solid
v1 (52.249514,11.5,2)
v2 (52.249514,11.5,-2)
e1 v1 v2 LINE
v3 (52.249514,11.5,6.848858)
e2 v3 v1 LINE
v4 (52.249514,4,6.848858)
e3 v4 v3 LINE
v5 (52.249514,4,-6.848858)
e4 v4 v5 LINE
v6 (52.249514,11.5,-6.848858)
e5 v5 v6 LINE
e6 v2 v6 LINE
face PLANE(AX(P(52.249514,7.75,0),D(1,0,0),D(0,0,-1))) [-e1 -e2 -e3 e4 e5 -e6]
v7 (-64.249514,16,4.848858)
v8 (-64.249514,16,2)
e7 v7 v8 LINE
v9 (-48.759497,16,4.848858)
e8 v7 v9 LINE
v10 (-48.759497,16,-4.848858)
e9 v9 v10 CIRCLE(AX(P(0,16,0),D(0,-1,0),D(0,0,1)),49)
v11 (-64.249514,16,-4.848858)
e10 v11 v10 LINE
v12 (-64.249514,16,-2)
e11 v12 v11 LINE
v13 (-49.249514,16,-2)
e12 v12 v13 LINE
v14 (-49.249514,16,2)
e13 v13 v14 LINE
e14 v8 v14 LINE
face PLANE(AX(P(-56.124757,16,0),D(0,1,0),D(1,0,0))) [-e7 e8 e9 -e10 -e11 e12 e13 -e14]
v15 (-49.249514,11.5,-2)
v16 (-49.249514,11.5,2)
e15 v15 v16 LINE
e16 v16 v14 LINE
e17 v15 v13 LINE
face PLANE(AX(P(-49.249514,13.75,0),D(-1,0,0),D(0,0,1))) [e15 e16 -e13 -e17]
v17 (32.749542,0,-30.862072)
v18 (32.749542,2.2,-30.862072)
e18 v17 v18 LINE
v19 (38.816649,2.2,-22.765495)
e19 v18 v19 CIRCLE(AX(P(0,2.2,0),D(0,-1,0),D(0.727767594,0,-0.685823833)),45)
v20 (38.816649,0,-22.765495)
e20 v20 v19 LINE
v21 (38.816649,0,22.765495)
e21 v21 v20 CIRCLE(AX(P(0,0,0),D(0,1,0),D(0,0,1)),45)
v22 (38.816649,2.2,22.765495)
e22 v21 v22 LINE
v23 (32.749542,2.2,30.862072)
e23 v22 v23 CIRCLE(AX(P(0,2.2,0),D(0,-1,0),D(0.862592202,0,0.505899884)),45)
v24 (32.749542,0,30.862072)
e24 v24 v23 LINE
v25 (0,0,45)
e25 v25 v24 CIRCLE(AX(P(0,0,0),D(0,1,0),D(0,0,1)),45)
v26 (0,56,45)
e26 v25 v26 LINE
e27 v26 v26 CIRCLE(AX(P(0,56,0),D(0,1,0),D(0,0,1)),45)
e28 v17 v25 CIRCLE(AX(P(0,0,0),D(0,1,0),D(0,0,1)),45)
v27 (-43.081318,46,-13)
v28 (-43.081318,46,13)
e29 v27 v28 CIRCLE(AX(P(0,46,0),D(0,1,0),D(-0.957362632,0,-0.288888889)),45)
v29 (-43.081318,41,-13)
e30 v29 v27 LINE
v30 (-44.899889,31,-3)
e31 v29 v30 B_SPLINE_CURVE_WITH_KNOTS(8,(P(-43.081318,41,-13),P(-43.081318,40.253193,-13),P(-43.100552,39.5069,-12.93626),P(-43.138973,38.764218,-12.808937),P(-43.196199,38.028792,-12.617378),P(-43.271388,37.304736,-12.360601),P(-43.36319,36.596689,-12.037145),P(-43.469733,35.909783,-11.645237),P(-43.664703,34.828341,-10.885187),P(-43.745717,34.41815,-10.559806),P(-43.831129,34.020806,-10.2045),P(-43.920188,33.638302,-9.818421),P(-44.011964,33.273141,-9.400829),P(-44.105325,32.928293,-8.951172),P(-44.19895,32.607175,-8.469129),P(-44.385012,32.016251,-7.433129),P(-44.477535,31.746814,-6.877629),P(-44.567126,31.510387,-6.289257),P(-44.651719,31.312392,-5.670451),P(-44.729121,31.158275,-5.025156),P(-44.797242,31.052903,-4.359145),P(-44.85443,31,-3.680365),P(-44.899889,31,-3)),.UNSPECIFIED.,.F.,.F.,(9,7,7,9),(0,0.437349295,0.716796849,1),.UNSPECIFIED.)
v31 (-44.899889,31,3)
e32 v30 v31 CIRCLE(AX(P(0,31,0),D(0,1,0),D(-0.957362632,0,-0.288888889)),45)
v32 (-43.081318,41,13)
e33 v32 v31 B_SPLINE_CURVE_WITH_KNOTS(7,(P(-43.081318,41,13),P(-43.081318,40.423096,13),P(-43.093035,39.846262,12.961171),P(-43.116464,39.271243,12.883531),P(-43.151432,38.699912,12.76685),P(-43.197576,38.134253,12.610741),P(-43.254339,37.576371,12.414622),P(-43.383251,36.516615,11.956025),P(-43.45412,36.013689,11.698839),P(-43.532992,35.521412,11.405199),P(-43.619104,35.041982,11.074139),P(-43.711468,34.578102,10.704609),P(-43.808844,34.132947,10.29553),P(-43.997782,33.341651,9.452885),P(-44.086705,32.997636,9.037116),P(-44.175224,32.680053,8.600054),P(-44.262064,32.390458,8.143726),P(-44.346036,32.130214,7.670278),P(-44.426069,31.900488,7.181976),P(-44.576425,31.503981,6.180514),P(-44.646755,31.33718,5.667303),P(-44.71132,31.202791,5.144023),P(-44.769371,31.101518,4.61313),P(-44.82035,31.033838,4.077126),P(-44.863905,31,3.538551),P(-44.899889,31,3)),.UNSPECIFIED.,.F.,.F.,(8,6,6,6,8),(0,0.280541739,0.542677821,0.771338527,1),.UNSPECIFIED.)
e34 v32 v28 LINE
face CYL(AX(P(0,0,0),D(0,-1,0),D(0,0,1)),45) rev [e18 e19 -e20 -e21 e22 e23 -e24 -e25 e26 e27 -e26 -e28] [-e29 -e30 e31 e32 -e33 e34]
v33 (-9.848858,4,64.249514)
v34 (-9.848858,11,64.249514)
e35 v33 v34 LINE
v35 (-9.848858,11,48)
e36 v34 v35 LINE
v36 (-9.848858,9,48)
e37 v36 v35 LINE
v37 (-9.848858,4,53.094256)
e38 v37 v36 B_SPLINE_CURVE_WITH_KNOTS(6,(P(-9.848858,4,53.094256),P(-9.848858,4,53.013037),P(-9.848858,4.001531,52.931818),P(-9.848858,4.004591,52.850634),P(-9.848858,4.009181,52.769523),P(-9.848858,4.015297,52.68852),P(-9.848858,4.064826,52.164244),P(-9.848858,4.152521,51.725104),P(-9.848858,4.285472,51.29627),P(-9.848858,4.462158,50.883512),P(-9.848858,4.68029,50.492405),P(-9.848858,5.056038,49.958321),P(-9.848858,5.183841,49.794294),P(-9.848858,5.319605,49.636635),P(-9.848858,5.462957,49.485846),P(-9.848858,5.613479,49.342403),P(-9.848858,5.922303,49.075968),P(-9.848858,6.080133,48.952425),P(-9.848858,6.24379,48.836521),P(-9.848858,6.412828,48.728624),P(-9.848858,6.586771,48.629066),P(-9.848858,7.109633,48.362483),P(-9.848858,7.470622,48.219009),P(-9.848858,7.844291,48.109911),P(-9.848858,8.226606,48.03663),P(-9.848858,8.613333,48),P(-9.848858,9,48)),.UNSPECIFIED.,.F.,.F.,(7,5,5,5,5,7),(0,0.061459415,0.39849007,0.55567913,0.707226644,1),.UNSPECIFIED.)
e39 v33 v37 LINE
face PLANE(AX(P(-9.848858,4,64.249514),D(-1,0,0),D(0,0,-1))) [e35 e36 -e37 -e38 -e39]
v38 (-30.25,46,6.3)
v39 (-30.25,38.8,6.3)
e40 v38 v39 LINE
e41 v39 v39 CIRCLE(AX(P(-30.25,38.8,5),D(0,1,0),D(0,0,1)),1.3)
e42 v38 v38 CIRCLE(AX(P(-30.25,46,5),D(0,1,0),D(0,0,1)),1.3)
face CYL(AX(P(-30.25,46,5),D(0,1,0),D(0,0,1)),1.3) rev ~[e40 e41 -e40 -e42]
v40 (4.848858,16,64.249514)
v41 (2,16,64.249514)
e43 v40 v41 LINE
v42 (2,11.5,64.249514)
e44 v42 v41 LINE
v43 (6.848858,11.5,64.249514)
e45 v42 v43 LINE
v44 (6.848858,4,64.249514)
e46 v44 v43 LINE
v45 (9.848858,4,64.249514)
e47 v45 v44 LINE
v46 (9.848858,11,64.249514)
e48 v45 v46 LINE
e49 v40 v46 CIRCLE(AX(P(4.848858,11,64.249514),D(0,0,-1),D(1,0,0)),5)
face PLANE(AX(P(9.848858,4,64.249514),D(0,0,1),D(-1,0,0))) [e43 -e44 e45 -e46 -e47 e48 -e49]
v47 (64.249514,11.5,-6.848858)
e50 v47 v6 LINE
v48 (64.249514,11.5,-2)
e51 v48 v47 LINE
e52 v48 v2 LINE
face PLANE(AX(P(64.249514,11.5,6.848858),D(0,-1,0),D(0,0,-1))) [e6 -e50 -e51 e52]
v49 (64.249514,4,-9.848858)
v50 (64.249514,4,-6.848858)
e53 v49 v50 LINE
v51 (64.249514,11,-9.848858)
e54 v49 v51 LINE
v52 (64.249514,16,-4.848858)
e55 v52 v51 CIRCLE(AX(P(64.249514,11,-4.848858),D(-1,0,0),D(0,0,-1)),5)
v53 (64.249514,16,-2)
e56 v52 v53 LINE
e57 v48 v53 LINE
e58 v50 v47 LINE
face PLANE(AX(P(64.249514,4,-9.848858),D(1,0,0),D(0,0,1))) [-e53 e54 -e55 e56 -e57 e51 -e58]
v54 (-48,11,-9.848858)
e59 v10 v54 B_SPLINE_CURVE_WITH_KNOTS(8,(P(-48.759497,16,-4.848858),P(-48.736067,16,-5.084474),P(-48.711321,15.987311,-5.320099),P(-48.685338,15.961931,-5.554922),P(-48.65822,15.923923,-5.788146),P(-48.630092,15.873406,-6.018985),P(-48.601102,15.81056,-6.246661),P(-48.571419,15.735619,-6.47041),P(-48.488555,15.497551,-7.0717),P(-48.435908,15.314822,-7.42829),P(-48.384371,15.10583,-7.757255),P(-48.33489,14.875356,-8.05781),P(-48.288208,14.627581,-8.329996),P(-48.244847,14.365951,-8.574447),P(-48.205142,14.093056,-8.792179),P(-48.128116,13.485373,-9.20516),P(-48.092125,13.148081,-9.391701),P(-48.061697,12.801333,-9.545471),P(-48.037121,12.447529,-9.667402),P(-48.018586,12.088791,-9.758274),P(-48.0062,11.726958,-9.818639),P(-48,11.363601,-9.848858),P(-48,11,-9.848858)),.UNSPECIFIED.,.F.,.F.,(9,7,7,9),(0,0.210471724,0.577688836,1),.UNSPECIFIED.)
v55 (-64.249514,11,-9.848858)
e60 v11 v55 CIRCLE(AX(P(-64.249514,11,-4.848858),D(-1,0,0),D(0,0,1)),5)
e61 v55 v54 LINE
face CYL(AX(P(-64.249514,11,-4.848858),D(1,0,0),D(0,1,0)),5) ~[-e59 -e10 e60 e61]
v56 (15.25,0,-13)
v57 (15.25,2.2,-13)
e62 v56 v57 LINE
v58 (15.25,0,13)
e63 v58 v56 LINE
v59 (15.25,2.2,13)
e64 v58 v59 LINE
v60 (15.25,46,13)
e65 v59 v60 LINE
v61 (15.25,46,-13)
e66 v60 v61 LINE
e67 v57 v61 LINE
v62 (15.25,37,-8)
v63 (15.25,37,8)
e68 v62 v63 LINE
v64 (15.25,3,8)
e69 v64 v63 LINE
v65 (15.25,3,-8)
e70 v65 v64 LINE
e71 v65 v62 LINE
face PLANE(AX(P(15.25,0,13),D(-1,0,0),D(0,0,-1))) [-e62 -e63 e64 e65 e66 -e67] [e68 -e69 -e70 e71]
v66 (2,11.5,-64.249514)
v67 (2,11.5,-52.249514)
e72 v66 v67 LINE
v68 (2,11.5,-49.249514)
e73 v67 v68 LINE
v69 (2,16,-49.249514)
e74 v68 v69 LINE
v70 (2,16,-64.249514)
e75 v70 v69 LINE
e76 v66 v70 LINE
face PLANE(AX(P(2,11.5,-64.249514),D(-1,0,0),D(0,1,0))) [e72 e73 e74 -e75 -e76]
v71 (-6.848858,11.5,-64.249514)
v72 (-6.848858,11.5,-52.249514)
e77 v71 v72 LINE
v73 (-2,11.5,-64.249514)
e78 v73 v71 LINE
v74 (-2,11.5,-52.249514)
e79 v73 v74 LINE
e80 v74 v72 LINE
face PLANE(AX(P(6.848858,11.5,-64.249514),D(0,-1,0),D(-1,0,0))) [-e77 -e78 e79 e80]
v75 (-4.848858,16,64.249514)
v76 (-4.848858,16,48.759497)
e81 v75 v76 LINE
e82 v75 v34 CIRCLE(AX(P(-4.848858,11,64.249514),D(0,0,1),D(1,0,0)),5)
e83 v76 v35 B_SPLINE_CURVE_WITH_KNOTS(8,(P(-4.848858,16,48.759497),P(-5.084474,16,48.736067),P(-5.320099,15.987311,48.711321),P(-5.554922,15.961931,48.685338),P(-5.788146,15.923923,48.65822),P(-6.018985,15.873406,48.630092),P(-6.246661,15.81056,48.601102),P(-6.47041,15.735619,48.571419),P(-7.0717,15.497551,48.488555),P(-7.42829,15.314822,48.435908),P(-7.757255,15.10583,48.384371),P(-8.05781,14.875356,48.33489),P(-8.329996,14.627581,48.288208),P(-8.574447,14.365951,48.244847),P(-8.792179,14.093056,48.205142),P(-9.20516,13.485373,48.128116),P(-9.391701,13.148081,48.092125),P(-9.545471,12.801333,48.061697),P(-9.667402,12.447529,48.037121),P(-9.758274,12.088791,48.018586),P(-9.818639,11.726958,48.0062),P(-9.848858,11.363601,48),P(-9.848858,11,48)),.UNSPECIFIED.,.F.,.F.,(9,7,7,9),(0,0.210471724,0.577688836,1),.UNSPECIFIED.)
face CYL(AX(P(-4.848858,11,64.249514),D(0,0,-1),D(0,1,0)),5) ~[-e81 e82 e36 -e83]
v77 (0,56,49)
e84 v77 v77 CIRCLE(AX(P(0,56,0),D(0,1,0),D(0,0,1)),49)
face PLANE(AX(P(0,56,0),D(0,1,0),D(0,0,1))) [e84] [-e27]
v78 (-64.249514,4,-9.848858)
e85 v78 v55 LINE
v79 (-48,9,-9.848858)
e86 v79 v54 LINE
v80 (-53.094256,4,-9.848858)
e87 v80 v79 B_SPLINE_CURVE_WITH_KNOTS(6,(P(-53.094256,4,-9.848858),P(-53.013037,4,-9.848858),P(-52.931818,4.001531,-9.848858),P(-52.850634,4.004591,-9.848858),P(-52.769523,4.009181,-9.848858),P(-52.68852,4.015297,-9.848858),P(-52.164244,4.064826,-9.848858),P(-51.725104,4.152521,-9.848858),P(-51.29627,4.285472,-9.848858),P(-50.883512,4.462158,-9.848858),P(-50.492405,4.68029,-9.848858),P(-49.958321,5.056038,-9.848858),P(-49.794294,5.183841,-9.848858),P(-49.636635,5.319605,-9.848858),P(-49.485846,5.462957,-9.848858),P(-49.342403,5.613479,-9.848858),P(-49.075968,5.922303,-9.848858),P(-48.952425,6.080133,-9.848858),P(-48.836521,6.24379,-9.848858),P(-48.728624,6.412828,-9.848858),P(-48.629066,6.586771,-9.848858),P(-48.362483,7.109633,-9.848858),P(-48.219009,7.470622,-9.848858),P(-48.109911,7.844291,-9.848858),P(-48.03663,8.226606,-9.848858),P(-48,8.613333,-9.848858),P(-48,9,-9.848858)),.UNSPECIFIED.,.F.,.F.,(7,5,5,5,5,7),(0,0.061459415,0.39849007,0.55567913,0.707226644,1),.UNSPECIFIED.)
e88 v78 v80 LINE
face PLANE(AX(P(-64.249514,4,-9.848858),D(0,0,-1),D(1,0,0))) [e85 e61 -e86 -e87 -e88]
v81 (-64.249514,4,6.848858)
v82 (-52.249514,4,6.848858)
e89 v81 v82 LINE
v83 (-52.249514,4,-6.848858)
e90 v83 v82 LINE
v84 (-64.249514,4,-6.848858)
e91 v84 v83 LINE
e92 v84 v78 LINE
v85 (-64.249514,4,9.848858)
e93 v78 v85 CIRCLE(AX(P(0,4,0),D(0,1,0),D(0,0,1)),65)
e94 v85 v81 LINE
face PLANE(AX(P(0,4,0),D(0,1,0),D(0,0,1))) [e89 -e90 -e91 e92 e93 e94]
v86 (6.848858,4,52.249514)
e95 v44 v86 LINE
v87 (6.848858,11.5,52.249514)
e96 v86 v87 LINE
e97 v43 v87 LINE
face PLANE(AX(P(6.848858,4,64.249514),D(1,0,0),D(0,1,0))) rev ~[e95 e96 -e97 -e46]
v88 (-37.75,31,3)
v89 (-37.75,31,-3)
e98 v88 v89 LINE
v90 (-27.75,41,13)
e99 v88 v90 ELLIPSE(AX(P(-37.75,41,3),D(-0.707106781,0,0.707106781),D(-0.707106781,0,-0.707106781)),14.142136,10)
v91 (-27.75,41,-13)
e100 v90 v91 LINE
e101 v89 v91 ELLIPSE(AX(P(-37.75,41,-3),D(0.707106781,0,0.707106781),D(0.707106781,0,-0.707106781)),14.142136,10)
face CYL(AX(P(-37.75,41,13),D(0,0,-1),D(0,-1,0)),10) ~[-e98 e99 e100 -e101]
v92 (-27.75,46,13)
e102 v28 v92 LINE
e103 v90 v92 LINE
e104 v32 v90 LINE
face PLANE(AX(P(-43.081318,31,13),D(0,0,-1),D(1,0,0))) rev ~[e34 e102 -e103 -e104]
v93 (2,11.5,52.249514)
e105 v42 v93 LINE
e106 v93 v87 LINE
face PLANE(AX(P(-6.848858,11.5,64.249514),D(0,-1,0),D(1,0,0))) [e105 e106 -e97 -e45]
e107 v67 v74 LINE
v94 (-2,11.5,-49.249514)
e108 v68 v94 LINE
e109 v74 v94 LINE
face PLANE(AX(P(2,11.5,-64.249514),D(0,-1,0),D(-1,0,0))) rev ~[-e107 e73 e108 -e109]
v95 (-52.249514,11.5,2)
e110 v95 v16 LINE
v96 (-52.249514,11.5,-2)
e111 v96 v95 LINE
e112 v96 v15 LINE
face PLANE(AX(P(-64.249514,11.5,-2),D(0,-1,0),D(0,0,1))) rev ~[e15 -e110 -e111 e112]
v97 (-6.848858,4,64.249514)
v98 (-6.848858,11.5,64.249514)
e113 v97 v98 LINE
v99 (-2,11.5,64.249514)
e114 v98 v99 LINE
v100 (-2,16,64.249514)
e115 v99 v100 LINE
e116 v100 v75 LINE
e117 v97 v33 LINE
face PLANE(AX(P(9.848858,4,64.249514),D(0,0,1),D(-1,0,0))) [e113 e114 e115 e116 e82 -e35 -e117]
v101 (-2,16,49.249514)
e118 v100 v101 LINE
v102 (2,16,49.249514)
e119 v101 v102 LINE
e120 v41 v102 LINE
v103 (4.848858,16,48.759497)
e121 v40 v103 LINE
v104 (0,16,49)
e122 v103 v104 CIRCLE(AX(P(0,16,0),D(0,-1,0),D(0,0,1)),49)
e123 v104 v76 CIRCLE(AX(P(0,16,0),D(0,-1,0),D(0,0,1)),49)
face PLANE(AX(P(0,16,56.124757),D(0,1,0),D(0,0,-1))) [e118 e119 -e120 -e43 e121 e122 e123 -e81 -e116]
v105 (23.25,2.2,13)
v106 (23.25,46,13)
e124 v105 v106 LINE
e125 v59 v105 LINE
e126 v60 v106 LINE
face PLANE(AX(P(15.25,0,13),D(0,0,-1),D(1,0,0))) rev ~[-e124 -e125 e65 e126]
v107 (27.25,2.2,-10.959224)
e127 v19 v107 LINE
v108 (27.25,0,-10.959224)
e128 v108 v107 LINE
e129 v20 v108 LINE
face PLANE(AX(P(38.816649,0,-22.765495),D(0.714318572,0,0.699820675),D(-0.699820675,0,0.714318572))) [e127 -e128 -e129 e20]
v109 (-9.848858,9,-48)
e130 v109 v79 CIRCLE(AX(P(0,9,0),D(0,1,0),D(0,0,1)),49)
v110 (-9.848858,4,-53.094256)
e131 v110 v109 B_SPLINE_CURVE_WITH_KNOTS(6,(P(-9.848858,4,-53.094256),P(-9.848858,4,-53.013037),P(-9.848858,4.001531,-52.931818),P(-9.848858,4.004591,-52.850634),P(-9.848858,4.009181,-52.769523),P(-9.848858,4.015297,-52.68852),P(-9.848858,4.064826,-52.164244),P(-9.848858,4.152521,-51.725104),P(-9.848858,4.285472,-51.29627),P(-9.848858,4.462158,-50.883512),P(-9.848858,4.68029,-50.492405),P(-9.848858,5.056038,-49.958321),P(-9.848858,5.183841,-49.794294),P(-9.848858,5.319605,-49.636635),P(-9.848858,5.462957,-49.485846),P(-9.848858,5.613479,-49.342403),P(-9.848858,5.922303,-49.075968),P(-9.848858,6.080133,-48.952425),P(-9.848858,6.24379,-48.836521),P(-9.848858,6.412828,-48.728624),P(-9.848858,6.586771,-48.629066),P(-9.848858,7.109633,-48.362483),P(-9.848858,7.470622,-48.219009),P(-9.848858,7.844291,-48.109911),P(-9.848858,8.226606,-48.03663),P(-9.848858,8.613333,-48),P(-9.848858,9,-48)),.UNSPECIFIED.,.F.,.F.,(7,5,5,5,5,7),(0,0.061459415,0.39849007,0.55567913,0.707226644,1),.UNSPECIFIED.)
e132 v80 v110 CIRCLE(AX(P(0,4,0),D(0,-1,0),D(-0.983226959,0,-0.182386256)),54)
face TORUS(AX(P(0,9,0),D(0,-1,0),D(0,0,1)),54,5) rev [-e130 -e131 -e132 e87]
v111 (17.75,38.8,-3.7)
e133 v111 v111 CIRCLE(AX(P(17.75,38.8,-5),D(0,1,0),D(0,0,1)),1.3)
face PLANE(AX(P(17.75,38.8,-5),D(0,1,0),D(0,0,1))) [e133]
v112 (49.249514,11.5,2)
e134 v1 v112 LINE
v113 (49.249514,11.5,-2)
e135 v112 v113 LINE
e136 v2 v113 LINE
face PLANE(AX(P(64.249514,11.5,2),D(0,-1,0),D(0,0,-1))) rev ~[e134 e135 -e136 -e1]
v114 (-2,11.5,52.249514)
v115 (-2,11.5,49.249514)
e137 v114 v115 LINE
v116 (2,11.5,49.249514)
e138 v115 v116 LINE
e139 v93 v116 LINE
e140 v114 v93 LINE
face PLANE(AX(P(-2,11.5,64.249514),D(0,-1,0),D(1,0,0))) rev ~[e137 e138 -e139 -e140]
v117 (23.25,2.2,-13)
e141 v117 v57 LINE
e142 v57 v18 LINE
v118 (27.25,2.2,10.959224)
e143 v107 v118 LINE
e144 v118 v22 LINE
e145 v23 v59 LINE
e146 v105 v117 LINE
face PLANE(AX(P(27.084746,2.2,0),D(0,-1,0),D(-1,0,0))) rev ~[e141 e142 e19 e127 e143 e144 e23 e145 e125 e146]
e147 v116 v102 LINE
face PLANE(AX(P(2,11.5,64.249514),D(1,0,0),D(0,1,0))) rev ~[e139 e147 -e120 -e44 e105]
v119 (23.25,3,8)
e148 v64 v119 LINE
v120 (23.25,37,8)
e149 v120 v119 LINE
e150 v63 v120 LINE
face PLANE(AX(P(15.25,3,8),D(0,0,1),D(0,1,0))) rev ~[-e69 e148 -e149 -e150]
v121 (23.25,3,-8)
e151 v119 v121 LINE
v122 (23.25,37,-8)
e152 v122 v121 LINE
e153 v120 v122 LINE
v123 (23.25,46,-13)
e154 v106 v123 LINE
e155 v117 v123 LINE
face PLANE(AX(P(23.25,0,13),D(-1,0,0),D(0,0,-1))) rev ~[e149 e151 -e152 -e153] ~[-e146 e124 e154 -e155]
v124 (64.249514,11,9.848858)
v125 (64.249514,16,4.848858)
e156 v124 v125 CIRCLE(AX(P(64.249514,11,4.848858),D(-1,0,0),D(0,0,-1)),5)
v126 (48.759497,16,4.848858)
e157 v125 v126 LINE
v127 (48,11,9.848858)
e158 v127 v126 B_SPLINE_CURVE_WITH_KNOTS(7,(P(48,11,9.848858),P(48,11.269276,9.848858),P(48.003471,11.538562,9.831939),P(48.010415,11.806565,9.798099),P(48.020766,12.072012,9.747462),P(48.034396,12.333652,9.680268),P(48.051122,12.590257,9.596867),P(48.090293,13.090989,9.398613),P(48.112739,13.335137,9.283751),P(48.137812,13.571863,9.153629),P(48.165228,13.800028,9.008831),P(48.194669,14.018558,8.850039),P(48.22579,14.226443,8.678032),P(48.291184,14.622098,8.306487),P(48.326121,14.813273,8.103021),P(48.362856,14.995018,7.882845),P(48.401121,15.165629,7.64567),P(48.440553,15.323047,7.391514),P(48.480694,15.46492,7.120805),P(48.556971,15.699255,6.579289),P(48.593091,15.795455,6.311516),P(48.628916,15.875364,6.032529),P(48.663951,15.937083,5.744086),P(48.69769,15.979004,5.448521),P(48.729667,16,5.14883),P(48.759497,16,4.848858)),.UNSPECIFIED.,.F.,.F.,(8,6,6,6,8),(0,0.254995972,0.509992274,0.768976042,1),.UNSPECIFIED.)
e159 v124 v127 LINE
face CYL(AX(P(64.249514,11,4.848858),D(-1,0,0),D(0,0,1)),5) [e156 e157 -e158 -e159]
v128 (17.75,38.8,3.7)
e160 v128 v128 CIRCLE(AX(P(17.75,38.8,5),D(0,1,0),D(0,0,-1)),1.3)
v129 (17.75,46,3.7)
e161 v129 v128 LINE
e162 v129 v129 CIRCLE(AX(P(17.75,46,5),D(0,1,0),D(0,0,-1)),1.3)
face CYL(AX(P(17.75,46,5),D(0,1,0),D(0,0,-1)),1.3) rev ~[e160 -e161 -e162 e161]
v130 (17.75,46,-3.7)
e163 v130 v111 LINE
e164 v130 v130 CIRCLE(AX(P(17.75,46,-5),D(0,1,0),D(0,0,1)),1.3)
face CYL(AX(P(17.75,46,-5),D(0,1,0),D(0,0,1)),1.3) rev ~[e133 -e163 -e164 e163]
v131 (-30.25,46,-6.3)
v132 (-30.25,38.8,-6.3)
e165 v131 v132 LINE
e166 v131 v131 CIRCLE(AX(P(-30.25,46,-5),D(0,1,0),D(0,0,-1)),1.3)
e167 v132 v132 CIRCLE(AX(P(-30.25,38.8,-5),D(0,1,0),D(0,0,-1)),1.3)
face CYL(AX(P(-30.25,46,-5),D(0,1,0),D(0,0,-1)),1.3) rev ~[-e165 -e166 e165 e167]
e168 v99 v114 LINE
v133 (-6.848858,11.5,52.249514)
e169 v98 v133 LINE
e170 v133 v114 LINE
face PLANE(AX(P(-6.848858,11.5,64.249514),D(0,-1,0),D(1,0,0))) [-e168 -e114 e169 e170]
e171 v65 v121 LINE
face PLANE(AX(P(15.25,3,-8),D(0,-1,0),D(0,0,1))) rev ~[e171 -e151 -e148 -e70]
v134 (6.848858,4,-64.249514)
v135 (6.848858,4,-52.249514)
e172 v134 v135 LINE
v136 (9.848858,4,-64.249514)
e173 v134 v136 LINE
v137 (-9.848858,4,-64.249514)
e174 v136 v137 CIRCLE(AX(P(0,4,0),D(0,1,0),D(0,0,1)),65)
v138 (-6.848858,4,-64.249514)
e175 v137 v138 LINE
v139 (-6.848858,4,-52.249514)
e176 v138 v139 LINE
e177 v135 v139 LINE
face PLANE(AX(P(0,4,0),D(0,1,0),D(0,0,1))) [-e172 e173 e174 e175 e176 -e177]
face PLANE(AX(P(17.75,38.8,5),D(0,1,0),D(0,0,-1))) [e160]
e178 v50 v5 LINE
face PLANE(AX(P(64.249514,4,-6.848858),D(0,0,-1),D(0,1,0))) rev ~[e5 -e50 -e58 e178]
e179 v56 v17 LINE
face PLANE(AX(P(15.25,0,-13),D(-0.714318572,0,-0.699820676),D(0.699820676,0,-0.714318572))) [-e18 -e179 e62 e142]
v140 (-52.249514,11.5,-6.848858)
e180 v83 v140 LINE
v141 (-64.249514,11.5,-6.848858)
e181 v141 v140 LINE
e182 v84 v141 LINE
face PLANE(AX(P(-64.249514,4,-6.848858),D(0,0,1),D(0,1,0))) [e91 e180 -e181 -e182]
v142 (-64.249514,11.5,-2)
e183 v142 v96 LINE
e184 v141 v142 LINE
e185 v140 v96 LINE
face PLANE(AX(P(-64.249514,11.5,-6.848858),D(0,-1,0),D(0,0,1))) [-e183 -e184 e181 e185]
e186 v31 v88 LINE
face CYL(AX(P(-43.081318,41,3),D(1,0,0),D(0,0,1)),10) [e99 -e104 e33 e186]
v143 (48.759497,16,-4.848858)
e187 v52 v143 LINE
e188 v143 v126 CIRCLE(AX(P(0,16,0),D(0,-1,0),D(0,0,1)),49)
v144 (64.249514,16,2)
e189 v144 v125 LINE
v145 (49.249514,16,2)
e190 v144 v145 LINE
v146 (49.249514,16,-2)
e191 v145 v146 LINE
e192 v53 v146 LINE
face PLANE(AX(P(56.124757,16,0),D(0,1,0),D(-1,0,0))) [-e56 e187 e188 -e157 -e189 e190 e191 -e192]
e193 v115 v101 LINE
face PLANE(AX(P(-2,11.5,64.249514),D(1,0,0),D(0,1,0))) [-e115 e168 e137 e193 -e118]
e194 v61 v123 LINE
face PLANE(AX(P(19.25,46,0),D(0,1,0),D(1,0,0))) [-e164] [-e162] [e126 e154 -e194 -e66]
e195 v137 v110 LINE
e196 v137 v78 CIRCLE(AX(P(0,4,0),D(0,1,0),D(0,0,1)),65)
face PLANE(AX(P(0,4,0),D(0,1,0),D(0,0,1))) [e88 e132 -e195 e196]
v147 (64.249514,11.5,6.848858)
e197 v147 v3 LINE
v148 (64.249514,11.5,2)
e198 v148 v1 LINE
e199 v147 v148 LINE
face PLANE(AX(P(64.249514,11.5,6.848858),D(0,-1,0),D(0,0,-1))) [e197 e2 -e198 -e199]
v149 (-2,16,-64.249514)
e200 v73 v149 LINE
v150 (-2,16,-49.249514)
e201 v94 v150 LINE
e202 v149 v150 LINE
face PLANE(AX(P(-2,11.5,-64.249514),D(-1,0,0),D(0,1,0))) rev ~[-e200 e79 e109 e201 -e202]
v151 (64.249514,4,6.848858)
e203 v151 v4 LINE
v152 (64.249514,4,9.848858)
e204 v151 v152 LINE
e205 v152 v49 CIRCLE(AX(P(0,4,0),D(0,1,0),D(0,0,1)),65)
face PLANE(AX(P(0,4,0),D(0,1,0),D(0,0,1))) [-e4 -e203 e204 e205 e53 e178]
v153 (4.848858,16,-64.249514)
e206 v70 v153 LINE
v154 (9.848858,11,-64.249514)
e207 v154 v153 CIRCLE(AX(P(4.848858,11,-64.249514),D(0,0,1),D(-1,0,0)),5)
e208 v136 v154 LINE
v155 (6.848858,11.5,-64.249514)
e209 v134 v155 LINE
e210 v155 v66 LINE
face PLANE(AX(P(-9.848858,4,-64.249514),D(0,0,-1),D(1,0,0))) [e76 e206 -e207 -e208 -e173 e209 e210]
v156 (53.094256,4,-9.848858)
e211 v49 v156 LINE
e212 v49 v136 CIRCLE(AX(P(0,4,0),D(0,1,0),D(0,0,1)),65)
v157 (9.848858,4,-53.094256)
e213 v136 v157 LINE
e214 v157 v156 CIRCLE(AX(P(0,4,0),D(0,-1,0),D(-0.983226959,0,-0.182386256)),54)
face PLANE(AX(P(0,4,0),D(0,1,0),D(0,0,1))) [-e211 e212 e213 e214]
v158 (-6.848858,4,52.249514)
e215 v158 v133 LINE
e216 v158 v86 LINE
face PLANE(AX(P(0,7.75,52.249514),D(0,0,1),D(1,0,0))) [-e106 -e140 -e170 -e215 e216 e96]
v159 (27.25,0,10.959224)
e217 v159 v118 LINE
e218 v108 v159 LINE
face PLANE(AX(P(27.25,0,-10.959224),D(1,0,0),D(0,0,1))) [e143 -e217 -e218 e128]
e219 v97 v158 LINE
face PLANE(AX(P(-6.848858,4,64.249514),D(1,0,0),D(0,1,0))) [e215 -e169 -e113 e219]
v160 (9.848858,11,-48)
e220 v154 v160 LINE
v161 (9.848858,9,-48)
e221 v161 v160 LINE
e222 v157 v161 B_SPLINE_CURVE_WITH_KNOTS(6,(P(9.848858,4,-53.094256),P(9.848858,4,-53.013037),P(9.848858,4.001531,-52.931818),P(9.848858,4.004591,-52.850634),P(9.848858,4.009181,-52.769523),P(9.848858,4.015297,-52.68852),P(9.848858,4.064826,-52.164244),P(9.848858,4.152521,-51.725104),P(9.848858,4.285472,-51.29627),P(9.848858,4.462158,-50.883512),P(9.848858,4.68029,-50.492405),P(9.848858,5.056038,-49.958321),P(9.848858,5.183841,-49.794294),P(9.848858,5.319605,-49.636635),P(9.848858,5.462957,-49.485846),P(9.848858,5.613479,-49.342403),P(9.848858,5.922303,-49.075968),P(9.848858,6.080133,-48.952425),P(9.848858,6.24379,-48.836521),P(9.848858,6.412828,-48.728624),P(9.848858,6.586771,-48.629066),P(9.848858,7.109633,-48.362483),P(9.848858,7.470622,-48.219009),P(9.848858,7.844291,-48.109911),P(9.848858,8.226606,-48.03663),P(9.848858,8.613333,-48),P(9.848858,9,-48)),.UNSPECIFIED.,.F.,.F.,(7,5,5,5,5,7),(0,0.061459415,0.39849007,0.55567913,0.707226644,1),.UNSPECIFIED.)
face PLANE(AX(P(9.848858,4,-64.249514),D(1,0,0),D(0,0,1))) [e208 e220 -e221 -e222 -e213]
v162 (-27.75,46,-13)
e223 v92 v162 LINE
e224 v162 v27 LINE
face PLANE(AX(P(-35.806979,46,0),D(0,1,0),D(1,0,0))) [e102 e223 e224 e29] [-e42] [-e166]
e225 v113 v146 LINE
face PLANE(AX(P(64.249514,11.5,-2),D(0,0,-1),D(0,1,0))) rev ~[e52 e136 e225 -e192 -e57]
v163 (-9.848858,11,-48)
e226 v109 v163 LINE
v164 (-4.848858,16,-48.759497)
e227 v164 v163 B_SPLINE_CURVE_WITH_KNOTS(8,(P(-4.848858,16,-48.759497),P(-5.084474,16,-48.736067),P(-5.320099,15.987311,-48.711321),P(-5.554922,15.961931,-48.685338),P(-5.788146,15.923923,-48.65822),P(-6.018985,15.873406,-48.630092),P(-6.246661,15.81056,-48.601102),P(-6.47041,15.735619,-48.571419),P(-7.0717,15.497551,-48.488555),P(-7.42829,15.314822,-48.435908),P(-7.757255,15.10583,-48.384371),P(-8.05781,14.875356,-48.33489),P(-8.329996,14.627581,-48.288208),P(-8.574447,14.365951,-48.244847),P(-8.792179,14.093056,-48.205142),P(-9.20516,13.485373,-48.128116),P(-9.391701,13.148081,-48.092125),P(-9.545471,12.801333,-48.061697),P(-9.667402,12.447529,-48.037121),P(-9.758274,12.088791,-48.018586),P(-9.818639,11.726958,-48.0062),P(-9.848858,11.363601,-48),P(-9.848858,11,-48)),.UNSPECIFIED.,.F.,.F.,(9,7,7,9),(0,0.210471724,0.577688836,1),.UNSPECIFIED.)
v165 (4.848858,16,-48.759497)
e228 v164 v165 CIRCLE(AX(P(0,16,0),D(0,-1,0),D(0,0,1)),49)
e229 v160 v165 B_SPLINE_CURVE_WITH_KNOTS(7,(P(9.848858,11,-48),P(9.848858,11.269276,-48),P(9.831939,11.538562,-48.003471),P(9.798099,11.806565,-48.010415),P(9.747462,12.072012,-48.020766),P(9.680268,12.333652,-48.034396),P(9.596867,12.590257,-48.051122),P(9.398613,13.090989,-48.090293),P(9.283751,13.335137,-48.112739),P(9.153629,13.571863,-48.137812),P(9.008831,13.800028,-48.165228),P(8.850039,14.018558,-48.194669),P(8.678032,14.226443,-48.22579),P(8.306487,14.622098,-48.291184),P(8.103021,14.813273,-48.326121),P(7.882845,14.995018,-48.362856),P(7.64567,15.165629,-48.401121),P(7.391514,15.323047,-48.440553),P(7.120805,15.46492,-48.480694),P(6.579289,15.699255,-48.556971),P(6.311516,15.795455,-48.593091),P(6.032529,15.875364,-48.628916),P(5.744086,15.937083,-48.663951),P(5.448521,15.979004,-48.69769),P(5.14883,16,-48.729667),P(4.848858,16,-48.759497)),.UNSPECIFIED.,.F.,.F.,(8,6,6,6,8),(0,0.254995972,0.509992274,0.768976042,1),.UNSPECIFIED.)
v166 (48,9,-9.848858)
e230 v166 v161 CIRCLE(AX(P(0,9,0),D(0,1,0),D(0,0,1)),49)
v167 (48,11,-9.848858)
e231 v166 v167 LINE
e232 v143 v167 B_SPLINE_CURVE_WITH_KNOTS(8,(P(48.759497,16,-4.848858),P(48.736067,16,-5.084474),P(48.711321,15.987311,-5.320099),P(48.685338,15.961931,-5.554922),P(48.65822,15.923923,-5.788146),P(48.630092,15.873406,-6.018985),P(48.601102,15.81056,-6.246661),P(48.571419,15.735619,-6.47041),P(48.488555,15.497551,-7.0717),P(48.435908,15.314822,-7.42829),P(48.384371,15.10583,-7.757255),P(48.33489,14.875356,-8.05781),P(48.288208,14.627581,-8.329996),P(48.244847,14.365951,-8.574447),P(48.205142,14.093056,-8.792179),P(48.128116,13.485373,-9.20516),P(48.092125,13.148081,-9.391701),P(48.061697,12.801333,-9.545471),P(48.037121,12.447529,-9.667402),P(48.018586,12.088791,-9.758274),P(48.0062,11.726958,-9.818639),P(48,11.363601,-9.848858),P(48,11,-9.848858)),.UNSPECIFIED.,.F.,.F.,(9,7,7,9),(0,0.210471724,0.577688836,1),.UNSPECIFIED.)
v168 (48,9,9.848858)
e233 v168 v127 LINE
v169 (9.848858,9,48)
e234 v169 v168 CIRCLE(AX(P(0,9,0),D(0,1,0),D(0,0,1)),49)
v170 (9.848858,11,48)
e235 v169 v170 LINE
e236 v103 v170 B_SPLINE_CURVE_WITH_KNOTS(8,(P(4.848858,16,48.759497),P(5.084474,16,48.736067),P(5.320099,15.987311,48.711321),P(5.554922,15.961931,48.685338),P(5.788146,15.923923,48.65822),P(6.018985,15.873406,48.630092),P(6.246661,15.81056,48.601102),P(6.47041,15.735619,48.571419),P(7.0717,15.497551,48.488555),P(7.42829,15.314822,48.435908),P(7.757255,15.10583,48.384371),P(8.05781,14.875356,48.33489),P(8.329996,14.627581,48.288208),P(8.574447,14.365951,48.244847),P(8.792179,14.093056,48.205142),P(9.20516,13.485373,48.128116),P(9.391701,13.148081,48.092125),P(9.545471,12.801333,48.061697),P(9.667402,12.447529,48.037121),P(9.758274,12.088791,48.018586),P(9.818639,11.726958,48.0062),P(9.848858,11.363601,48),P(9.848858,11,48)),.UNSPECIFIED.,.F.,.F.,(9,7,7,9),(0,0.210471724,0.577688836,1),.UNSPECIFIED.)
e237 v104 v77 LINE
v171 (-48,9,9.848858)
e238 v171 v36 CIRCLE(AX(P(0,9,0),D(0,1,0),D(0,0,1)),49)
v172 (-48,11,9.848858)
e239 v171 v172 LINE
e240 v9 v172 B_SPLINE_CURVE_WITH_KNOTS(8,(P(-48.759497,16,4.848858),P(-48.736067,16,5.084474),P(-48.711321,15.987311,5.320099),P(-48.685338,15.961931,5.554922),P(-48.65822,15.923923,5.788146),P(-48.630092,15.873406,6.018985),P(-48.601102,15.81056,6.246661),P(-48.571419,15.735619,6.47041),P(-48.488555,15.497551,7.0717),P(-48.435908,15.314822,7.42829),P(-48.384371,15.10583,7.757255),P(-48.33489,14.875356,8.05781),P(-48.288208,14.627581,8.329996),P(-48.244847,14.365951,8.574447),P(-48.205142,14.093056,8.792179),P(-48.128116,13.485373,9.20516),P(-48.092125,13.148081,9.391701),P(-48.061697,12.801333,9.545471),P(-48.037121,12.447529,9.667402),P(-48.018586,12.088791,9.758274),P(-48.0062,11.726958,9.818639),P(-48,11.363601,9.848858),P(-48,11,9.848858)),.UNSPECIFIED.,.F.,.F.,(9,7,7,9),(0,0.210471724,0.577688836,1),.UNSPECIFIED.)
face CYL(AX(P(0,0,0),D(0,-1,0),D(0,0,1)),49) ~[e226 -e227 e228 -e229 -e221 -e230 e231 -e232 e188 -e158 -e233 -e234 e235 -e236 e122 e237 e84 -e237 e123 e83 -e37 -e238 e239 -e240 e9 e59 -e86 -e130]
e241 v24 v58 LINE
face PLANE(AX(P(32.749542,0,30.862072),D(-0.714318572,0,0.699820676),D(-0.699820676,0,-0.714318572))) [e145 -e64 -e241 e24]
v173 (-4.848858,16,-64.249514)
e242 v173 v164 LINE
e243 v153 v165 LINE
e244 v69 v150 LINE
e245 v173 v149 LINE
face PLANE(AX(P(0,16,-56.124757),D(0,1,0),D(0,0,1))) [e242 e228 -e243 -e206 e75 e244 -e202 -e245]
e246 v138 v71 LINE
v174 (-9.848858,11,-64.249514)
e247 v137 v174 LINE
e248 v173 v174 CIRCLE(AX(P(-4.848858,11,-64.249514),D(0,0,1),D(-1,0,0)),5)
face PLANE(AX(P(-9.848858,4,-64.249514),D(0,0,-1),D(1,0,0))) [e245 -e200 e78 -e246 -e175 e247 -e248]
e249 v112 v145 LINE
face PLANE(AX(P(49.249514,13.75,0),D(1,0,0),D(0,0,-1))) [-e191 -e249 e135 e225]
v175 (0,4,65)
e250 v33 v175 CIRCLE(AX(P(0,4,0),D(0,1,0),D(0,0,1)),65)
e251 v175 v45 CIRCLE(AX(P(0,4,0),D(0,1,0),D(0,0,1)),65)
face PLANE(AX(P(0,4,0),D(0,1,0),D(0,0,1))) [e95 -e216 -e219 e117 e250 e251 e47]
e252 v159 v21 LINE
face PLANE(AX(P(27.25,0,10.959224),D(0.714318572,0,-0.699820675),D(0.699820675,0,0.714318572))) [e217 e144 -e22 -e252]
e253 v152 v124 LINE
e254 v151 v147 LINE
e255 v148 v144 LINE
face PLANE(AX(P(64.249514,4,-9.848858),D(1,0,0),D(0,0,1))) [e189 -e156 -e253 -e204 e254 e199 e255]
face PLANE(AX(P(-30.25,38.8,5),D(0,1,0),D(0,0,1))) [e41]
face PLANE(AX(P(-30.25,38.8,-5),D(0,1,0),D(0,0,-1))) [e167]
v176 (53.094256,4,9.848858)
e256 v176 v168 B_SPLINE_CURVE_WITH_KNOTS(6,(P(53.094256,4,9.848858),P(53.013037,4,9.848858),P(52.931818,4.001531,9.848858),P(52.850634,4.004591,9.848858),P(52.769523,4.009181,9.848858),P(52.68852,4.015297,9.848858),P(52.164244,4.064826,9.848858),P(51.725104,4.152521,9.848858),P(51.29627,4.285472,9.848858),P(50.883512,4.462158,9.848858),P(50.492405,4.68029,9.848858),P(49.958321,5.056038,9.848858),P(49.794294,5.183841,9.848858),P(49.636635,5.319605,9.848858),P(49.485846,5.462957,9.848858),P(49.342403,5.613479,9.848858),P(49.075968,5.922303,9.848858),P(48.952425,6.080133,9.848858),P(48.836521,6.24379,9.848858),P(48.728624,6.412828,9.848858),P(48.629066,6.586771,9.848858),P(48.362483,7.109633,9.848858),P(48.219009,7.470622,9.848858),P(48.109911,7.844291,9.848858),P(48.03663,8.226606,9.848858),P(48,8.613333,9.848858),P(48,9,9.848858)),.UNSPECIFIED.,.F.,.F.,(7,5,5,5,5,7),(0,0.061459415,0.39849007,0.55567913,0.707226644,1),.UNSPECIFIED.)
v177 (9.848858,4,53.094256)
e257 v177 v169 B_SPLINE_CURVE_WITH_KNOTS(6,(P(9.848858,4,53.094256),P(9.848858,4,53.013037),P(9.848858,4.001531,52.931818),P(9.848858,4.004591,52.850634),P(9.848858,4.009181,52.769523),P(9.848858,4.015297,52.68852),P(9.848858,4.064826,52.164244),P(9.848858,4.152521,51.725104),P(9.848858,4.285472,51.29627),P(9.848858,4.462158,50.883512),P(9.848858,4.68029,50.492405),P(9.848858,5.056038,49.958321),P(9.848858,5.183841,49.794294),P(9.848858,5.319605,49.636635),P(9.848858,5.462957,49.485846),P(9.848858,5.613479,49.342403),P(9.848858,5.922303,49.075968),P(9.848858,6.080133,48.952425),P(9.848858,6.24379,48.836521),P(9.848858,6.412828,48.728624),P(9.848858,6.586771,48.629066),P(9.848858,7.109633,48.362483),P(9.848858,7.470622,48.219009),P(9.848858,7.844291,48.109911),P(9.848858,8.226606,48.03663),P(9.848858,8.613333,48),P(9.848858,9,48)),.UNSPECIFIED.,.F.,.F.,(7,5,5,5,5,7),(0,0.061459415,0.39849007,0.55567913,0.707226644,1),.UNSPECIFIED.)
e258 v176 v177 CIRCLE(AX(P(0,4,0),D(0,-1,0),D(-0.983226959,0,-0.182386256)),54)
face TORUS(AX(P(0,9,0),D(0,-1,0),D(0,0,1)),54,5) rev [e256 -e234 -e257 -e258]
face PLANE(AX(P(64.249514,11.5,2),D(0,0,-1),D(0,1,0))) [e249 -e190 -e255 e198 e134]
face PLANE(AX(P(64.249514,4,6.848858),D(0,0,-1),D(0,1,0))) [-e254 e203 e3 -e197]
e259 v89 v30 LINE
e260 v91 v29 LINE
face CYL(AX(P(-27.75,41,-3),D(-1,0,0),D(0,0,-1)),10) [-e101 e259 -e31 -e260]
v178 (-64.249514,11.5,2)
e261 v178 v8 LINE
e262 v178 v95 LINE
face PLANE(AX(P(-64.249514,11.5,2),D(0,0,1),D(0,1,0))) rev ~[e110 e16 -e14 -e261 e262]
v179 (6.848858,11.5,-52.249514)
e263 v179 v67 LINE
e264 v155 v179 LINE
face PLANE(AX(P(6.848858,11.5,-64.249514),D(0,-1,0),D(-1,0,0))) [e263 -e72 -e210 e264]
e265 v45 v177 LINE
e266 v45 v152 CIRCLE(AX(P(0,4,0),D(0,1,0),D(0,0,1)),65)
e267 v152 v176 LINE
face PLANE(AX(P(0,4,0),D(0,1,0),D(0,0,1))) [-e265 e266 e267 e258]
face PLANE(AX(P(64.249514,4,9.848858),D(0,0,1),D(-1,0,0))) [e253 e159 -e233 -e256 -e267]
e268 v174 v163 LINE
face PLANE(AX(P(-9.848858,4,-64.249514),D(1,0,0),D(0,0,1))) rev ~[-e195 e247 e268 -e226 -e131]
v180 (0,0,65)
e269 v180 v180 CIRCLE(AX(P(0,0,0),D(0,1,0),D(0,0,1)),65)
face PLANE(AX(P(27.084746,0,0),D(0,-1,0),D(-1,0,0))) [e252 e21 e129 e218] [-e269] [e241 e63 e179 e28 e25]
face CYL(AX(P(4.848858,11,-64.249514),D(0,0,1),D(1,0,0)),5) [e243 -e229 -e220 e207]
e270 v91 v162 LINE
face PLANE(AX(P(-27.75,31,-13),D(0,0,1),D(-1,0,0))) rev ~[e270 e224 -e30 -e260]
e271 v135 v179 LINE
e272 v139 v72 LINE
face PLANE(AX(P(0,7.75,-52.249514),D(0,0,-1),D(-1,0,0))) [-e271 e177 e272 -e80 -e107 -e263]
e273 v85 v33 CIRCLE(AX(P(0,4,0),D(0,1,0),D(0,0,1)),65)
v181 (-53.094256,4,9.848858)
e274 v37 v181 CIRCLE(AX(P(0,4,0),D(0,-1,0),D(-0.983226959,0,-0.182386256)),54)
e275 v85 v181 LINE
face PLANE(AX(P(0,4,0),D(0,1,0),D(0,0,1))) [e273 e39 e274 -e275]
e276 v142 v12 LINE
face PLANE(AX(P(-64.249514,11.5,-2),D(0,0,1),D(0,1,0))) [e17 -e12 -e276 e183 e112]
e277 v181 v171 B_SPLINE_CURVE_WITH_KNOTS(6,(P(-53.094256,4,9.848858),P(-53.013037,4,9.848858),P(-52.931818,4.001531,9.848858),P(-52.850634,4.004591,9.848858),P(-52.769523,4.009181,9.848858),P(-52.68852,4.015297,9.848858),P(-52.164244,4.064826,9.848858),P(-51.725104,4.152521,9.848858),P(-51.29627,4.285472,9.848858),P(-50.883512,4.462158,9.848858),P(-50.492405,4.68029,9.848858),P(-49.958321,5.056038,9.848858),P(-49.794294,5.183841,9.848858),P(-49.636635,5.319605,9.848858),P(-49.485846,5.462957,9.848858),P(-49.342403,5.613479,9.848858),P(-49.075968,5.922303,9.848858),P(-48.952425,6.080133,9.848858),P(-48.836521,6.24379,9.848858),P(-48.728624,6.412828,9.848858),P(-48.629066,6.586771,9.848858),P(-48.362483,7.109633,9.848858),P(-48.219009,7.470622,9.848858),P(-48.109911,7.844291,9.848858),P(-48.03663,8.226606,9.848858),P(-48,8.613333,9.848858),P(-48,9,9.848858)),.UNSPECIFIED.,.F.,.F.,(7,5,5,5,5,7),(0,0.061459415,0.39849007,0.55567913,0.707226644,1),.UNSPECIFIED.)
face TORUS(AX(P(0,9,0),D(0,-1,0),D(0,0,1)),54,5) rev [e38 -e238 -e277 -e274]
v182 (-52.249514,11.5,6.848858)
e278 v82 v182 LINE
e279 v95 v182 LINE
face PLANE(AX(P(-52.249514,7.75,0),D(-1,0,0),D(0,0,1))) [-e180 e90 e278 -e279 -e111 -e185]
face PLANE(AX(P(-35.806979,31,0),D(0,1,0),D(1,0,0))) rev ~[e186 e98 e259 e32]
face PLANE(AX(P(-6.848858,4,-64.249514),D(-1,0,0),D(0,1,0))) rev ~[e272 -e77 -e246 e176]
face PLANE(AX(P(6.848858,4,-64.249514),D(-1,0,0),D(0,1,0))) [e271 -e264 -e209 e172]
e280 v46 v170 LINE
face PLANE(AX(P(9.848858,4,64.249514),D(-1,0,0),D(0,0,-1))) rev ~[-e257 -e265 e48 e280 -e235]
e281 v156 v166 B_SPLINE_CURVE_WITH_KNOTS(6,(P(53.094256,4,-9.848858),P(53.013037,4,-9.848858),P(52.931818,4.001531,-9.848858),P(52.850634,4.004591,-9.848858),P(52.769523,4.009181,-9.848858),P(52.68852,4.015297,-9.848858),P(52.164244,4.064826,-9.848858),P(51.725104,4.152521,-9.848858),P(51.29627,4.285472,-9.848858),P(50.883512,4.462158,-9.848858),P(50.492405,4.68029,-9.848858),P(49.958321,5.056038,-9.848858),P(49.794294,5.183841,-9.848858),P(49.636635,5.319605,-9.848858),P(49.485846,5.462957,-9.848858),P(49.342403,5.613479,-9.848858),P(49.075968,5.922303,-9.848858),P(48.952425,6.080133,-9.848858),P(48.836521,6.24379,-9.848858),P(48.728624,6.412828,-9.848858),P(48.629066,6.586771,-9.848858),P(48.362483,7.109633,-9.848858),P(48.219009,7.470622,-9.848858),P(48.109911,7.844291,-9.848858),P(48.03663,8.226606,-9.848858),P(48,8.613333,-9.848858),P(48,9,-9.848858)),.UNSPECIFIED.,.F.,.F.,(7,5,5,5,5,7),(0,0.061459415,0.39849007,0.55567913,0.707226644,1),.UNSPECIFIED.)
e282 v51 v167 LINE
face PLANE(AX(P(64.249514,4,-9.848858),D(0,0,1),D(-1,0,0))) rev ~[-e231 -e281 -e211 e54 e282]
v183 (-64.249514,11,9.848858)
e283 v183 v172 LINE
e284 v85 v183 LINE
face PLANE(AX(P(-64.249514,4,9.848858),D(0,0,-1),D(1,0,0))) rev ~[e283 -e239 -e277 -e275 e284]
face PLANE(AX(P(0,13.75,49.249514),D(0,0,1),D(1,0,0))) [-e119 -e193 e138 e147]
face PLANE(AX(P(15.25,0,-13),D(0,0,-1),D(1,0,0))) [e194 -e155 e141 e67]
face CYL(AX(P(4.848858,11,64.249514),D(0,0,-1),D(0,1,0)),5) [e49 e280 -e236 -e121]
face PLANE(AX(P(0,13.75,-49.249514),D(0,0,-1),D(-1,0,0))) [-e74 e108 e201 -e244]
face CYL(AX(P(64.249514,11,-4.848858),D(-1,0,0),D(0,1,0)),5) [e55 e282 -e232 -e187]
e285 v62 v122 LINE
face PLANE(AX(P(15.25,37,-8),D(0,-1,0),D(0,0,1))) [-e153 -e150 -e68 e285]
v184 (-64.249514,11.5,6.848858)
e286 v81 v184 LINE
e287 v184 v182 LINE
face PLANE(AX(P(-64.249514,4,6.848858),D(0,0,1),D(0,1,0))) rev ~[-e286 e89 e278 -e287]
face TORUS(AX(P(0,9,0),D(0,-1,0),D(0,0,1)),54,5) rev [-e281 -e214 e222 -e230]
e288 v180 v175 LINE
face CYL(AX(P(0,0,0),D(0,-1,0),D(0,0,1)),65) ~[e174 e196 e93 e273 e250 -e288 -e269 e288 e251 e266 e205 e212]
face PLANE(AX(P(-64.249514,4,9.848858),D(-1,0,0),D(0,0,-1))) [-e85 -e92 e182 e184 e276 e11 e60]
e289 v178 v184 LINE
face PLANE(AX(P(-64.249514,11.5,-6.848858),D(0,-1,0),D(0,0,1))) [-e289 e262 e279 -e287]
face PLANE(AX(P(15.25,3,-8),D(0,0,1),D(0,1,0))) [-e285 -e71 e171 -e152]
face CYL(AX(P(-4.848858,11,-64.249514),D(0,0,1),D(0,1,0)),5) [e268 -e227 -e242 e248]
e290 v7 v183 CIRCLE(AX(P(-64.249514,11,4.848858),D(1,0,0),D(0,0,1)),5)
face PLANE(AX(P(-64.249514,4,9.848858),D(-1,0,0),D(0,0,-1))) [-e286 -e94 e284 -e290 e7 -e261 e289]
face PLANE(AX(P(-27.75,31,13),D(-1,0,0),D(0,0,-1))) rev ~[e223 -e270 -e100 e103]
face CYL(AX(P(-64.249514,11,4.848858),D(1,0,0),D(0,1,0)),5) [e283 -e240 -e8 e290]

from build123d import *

# Parameters (mm, degrees)
CROQUIS1_R              = 49
CROQUIS1_R_2            = 45
SALIENTE_EXTRUIR1_DEPTH = 56
CROQUIS3_R              = 65
CROQUIS3_R_2            = 49
SALIENTE_EXTRUIR2_DEPTH = 4
REDONDEO1_R             = 5
CROQUIS4_W              = 8
CROQUIS4_H              = 26
SALIENTE_EXTRUIR3_DEPTH = 46
SALIENTE_EXTRUIR4_DEPTH = 2.2
SALIENTE_EXTRUIR5_START = -15
SALIENTE_EXTRUIR5_DEPTH = 15
REDONDEO2_R             = 10
CROQUIS7_R              = 1.3
CORTAR_EXTRUIR1_DEPTH   = 7.2
CORTAR_EXTRUIR2_REACH   = 119.478
CROQUIS8_W              = 16
CROQUIS8_H              = 34
CROQUIS9_W              = 16.249513617
CROQUIS9_H              = 19.697715604
SALIENTE_EXTRUIR6_DEPTH = 12
REDONDEO3_R             = 5
CROQUIS11_W             = 13.697715604
CROQUIS11_H             = 7.5
CORTAR_EXTRUIR3_DEPTH   = 12
CROQUIS12_W             = 4
CROQUIS12_H             = 4.5
CORTAR_EXTRUIR4_DEPTH   = 15
MATRIZC1_COUNT          = 4
REDONDEO3_OF_MATRIZC1_R = 5


with BuildPart() as part:
    # Croquis1 → Saliente-Extruir1 (new body)
    with BuildSketch(Plane(origin=(0, 0, 0), x_dir=(1, 0, 0), z_dir=(0, 1, 0))):
        with Locations(Location((0, 0, 0), (0, 0, 270))):
            Circle(CROQUIS1_R)
        with Locations(Location((0, 0, 0), (0, 0, 270))):
            Circle(CROQUIS1_R_2, mode=Mode.SUBTRACT)
    extrude(amount=SALIENTE_EXTRUIR1_DEPTH)

    # Croquis3 → Saliente-Extruir2 (add)
    with BuildSketch(Plane(origin=(0, 0, 0), x_dir=(1, 0, 0), z_dir=(0, 1, 0))):
        with Locations(Location((0, 0, 0), (0, 0, 270))):
            Circle(CROQUIS3_R)
        with Locations(Location((0, 0, 0), (0, 0, 270))):
            Circle(CROQUIS3_R_2, mode=Mode.SUBTRACT)
    extrude(amount=SALIENTE_EXTRUIR2_DEPTH)

    # Redondeo1
    redondeo1_edges = [part.edges().sort_by_distance(p)[0] for p in [
        (0, 4, -49),
    ]]
    fillet(redondeo1_edges, radius=REDONDEO1_R)



with BuildPart() as body_2:
    # Croquis4 → Saliente-Extruir3 (new body)
    with BuildSketch(Plane(origin=(0, 0, 0), x_dir=(1, 0, 0), z_dir=(0, 1, 0))):
        with Locations((19.25, 0)):
            Rectangle(CROQUIS4_W, CROQUIS4_H)
    extrude(amount=SALIENTE_EXTRUIR3_DEPTH)


with BuildPart() as part_1:
    add(part.part)

    add(body_2.part)  # Saliente-Extruir4 merges body 2
    # Croquis5 → Saliente-Extruir4 (add)
    with BuildSketch(Plane(origin=(0, 0, 0), x_dir=(1, 0, 0), z_dir=(0, 1, 0))):
        with BuildLine():
            Line((15.25, 13), (32.749541701, 30.86207249))
            ThreePointArc((32.749541701, 30.86207249), (36.011367089, 26.98483723), (38.816649113, 22.765494759))
            Line((38.816649113, 22.765494759), (27.25, 10.959224145))
            Line((27.25, 10.959224145), (27.25, -10.959224145))
            Line((27.25, -10.959224145), (38.816649113, -22.765494759))
            ThreePointArc((38.816649113, -22.765494759), (36.011367089, -26.98483723), (32.749541701, -30.86207249))
            Line((32.749541701, -30.86207249), (15.25, -13))
            Line((15.25, -13), (23.25, -13))
            Line((23.25, -13), (23.25, 13))
            Line((23.25, 13), (15.25, 13))
        make_face()
    extrude(amount=SALIENTE_EXTRUIR4_DEPTH)

    # Croquis6 → Saliente-Extruir5 (add)
    with BuildSketch(Plane(origin=(0, 46, 0), x_dir=(1, 0, 0), z_dir=(0, 1, 0)).offset(SALIENTE_EXTRUIR5_START)):
        with BuildLine():
            Line((-27.75, 13), (-43.081318457, 13))
            ThreePointArc((-43.081318457, 13), (-45, 0), (-43.081318457, -13))
            Line((-43.081318457, -13), (-27.75, -13))
            Line((-27.75, -13), (-27.75, 13))
        make_face()
    extrude(amount=SALIENTE_EXTRUIR5_DEPTH)

    # Redondeo2
    redondeo2_edges = [part_1.edges().sort_by_distance(p)[0] for p in [
        (-27.75, 31, 0),
        (-35.415659229, 31, 13),
        (-35.415659229, 31, -13),
    ]]
    fillet(redondeo2_edges, radius=REDONDEO2_R)

    # Croquis7 → Cortar-Extruir1 (cut)
    with BuildSketch(Plane(origin=(0, 46, 0), x_dir=(1, 0, 0), z_dir=(0, 1, 0))):
        with Locations(Location((17.75, 5, 0), (0, 0, 270))):
            Circle(CROQUIS7_R)
        with Locations(Location((17.75, -5, 0), (0, 0, 90))):
            Circle(CROQUIS7_R)
        with Locations(Location((-30.25, -5, 0), (0, 0, 270))):
            Circle(CROQUIS7_R)
        with Locations(Location((-30.25, 5, 0), (0, 0, 90))):
            Circle(CROQUIS7_R)
    extrude(amount=-CORTAR_EXTRUIR1_DEPTH, mode=Mode.SUBTRACT)

    # Croquis8 → Cortar-Extruir2 (cut, up to next)
    with BuildSketch(Plane.ZY.offset(-15.25), mode=Mode.PRIVATE) as cortar_extruir2_sk1:
        with Locations((0, 20)):
            Rectangle(CROQUIS8_W, CROQUIS8_H)
    cortar_extruir2_tool1 = extrude(cortar_extruir2_sk1.sketch, amount=-CORTAR_EXTRUIR2_REACH, mode=Mode.PRIVATE) & part_1.part
    add(cortar_extruir2_tool1.solids().sort_by_distance((15.25, 20, 0))[0], mode=Mode.SUBTRACT)

    # Croquis9 → Saliente-Extruir6 (add)
    with BuildSketch(Plane(origin=(0, 4, 0), x_dir=(1, 0, 0), z_dir=(0, 1, 0))):
        with Locations((-56.124756809, 0)):
            Rectangle(CROQUIS9_W, CROQUIS9_H)
    saliente_extruir6 = extrude(amount=SALIENTE_EXTRUIR6_DEPTH)

    # Redondeo3
    redondeo3_edges = [part_1.edges().sort_by_distance(p)[0] for p in [
        (-56.124756808, 16, -9.848857802),
        (-56.124756808, 16, 9.848857802),
    ]]
    fillet(redondeo3_edges, radius=REDONDEO3_R)

    # Croquis11 → Cortar-Extruir3 (cut)
    with BuildSketch(Plane.ZY.offset(64.249513617)):
        with Locations((0, 7.75)):
            Rectangle(CROQUIS11_W, CROQUIS11_H)
    cortar_extruir3 = extrude(amount=-CORTAR_EXTRUIR3_DEPTH, mode=Mode.SUBTRACT)

    # Croquis12 → Cortar-Extruir4 (cut)
    with BuildSketch(Plane.ZY.offset(64.249513617)):
        with Locations((0, 13.75)):
            Rectangle(CROQUIS12_W, CROQUIS12_H)
    cortar_extruir4 = extrude(amount=-CORTAR_EXTRUIR4_DEPTH, mode=Mode.SUBTRACT)

    # MatrizC1: Saliente-Extruir6, Cortar-Extruir3, Cortar-Extruir4 ×4 about axis
    matrizc1_axis = Axis((0, 0, 0), (0, 1, 0))
    add([saliente_extruir6.rotate(matrizc1_axis, i * 360 / MATRIZC1_COUNT) for i in range(1, MATRIZC1_COUNT)])
    add([cortar_extruir3.rotate(matrizc1_axis, i * 360 / MATRIZC1_COUNT) for i in range(1, MATRIZC1_COUNT)], mode=Mode.SUBTRACT)
    add([cortar_extruir4.rotate(matrizc1_axis, i * 360 / MATRIZC1_COUNT) for i in range(1, MATRIZC1_COUNT)], mode=Mode.SUBTRACT)

    # Redondeo3 of MatrizC1
    redondeo3_of_matrizc1_edges = [part_1.edges().sort_by_distance(p)[0] for p in [
        (-9.848857802, 16, 56.124756808),
        (9.848857802, 16, 56.124756808),
        (56.124756808, 16, 9.848857802),
        (56.124756808, 16, -9.848857802),
        (9.848857802, 16, -56.124756808),
        (-9.848857802, 16, -56.124756808),
    ]]
    fillet(redondeo3_of_matrizc1_edges, radius=REDONDEO3_OF_MATRIZC1_R)


solid = part_1.part
